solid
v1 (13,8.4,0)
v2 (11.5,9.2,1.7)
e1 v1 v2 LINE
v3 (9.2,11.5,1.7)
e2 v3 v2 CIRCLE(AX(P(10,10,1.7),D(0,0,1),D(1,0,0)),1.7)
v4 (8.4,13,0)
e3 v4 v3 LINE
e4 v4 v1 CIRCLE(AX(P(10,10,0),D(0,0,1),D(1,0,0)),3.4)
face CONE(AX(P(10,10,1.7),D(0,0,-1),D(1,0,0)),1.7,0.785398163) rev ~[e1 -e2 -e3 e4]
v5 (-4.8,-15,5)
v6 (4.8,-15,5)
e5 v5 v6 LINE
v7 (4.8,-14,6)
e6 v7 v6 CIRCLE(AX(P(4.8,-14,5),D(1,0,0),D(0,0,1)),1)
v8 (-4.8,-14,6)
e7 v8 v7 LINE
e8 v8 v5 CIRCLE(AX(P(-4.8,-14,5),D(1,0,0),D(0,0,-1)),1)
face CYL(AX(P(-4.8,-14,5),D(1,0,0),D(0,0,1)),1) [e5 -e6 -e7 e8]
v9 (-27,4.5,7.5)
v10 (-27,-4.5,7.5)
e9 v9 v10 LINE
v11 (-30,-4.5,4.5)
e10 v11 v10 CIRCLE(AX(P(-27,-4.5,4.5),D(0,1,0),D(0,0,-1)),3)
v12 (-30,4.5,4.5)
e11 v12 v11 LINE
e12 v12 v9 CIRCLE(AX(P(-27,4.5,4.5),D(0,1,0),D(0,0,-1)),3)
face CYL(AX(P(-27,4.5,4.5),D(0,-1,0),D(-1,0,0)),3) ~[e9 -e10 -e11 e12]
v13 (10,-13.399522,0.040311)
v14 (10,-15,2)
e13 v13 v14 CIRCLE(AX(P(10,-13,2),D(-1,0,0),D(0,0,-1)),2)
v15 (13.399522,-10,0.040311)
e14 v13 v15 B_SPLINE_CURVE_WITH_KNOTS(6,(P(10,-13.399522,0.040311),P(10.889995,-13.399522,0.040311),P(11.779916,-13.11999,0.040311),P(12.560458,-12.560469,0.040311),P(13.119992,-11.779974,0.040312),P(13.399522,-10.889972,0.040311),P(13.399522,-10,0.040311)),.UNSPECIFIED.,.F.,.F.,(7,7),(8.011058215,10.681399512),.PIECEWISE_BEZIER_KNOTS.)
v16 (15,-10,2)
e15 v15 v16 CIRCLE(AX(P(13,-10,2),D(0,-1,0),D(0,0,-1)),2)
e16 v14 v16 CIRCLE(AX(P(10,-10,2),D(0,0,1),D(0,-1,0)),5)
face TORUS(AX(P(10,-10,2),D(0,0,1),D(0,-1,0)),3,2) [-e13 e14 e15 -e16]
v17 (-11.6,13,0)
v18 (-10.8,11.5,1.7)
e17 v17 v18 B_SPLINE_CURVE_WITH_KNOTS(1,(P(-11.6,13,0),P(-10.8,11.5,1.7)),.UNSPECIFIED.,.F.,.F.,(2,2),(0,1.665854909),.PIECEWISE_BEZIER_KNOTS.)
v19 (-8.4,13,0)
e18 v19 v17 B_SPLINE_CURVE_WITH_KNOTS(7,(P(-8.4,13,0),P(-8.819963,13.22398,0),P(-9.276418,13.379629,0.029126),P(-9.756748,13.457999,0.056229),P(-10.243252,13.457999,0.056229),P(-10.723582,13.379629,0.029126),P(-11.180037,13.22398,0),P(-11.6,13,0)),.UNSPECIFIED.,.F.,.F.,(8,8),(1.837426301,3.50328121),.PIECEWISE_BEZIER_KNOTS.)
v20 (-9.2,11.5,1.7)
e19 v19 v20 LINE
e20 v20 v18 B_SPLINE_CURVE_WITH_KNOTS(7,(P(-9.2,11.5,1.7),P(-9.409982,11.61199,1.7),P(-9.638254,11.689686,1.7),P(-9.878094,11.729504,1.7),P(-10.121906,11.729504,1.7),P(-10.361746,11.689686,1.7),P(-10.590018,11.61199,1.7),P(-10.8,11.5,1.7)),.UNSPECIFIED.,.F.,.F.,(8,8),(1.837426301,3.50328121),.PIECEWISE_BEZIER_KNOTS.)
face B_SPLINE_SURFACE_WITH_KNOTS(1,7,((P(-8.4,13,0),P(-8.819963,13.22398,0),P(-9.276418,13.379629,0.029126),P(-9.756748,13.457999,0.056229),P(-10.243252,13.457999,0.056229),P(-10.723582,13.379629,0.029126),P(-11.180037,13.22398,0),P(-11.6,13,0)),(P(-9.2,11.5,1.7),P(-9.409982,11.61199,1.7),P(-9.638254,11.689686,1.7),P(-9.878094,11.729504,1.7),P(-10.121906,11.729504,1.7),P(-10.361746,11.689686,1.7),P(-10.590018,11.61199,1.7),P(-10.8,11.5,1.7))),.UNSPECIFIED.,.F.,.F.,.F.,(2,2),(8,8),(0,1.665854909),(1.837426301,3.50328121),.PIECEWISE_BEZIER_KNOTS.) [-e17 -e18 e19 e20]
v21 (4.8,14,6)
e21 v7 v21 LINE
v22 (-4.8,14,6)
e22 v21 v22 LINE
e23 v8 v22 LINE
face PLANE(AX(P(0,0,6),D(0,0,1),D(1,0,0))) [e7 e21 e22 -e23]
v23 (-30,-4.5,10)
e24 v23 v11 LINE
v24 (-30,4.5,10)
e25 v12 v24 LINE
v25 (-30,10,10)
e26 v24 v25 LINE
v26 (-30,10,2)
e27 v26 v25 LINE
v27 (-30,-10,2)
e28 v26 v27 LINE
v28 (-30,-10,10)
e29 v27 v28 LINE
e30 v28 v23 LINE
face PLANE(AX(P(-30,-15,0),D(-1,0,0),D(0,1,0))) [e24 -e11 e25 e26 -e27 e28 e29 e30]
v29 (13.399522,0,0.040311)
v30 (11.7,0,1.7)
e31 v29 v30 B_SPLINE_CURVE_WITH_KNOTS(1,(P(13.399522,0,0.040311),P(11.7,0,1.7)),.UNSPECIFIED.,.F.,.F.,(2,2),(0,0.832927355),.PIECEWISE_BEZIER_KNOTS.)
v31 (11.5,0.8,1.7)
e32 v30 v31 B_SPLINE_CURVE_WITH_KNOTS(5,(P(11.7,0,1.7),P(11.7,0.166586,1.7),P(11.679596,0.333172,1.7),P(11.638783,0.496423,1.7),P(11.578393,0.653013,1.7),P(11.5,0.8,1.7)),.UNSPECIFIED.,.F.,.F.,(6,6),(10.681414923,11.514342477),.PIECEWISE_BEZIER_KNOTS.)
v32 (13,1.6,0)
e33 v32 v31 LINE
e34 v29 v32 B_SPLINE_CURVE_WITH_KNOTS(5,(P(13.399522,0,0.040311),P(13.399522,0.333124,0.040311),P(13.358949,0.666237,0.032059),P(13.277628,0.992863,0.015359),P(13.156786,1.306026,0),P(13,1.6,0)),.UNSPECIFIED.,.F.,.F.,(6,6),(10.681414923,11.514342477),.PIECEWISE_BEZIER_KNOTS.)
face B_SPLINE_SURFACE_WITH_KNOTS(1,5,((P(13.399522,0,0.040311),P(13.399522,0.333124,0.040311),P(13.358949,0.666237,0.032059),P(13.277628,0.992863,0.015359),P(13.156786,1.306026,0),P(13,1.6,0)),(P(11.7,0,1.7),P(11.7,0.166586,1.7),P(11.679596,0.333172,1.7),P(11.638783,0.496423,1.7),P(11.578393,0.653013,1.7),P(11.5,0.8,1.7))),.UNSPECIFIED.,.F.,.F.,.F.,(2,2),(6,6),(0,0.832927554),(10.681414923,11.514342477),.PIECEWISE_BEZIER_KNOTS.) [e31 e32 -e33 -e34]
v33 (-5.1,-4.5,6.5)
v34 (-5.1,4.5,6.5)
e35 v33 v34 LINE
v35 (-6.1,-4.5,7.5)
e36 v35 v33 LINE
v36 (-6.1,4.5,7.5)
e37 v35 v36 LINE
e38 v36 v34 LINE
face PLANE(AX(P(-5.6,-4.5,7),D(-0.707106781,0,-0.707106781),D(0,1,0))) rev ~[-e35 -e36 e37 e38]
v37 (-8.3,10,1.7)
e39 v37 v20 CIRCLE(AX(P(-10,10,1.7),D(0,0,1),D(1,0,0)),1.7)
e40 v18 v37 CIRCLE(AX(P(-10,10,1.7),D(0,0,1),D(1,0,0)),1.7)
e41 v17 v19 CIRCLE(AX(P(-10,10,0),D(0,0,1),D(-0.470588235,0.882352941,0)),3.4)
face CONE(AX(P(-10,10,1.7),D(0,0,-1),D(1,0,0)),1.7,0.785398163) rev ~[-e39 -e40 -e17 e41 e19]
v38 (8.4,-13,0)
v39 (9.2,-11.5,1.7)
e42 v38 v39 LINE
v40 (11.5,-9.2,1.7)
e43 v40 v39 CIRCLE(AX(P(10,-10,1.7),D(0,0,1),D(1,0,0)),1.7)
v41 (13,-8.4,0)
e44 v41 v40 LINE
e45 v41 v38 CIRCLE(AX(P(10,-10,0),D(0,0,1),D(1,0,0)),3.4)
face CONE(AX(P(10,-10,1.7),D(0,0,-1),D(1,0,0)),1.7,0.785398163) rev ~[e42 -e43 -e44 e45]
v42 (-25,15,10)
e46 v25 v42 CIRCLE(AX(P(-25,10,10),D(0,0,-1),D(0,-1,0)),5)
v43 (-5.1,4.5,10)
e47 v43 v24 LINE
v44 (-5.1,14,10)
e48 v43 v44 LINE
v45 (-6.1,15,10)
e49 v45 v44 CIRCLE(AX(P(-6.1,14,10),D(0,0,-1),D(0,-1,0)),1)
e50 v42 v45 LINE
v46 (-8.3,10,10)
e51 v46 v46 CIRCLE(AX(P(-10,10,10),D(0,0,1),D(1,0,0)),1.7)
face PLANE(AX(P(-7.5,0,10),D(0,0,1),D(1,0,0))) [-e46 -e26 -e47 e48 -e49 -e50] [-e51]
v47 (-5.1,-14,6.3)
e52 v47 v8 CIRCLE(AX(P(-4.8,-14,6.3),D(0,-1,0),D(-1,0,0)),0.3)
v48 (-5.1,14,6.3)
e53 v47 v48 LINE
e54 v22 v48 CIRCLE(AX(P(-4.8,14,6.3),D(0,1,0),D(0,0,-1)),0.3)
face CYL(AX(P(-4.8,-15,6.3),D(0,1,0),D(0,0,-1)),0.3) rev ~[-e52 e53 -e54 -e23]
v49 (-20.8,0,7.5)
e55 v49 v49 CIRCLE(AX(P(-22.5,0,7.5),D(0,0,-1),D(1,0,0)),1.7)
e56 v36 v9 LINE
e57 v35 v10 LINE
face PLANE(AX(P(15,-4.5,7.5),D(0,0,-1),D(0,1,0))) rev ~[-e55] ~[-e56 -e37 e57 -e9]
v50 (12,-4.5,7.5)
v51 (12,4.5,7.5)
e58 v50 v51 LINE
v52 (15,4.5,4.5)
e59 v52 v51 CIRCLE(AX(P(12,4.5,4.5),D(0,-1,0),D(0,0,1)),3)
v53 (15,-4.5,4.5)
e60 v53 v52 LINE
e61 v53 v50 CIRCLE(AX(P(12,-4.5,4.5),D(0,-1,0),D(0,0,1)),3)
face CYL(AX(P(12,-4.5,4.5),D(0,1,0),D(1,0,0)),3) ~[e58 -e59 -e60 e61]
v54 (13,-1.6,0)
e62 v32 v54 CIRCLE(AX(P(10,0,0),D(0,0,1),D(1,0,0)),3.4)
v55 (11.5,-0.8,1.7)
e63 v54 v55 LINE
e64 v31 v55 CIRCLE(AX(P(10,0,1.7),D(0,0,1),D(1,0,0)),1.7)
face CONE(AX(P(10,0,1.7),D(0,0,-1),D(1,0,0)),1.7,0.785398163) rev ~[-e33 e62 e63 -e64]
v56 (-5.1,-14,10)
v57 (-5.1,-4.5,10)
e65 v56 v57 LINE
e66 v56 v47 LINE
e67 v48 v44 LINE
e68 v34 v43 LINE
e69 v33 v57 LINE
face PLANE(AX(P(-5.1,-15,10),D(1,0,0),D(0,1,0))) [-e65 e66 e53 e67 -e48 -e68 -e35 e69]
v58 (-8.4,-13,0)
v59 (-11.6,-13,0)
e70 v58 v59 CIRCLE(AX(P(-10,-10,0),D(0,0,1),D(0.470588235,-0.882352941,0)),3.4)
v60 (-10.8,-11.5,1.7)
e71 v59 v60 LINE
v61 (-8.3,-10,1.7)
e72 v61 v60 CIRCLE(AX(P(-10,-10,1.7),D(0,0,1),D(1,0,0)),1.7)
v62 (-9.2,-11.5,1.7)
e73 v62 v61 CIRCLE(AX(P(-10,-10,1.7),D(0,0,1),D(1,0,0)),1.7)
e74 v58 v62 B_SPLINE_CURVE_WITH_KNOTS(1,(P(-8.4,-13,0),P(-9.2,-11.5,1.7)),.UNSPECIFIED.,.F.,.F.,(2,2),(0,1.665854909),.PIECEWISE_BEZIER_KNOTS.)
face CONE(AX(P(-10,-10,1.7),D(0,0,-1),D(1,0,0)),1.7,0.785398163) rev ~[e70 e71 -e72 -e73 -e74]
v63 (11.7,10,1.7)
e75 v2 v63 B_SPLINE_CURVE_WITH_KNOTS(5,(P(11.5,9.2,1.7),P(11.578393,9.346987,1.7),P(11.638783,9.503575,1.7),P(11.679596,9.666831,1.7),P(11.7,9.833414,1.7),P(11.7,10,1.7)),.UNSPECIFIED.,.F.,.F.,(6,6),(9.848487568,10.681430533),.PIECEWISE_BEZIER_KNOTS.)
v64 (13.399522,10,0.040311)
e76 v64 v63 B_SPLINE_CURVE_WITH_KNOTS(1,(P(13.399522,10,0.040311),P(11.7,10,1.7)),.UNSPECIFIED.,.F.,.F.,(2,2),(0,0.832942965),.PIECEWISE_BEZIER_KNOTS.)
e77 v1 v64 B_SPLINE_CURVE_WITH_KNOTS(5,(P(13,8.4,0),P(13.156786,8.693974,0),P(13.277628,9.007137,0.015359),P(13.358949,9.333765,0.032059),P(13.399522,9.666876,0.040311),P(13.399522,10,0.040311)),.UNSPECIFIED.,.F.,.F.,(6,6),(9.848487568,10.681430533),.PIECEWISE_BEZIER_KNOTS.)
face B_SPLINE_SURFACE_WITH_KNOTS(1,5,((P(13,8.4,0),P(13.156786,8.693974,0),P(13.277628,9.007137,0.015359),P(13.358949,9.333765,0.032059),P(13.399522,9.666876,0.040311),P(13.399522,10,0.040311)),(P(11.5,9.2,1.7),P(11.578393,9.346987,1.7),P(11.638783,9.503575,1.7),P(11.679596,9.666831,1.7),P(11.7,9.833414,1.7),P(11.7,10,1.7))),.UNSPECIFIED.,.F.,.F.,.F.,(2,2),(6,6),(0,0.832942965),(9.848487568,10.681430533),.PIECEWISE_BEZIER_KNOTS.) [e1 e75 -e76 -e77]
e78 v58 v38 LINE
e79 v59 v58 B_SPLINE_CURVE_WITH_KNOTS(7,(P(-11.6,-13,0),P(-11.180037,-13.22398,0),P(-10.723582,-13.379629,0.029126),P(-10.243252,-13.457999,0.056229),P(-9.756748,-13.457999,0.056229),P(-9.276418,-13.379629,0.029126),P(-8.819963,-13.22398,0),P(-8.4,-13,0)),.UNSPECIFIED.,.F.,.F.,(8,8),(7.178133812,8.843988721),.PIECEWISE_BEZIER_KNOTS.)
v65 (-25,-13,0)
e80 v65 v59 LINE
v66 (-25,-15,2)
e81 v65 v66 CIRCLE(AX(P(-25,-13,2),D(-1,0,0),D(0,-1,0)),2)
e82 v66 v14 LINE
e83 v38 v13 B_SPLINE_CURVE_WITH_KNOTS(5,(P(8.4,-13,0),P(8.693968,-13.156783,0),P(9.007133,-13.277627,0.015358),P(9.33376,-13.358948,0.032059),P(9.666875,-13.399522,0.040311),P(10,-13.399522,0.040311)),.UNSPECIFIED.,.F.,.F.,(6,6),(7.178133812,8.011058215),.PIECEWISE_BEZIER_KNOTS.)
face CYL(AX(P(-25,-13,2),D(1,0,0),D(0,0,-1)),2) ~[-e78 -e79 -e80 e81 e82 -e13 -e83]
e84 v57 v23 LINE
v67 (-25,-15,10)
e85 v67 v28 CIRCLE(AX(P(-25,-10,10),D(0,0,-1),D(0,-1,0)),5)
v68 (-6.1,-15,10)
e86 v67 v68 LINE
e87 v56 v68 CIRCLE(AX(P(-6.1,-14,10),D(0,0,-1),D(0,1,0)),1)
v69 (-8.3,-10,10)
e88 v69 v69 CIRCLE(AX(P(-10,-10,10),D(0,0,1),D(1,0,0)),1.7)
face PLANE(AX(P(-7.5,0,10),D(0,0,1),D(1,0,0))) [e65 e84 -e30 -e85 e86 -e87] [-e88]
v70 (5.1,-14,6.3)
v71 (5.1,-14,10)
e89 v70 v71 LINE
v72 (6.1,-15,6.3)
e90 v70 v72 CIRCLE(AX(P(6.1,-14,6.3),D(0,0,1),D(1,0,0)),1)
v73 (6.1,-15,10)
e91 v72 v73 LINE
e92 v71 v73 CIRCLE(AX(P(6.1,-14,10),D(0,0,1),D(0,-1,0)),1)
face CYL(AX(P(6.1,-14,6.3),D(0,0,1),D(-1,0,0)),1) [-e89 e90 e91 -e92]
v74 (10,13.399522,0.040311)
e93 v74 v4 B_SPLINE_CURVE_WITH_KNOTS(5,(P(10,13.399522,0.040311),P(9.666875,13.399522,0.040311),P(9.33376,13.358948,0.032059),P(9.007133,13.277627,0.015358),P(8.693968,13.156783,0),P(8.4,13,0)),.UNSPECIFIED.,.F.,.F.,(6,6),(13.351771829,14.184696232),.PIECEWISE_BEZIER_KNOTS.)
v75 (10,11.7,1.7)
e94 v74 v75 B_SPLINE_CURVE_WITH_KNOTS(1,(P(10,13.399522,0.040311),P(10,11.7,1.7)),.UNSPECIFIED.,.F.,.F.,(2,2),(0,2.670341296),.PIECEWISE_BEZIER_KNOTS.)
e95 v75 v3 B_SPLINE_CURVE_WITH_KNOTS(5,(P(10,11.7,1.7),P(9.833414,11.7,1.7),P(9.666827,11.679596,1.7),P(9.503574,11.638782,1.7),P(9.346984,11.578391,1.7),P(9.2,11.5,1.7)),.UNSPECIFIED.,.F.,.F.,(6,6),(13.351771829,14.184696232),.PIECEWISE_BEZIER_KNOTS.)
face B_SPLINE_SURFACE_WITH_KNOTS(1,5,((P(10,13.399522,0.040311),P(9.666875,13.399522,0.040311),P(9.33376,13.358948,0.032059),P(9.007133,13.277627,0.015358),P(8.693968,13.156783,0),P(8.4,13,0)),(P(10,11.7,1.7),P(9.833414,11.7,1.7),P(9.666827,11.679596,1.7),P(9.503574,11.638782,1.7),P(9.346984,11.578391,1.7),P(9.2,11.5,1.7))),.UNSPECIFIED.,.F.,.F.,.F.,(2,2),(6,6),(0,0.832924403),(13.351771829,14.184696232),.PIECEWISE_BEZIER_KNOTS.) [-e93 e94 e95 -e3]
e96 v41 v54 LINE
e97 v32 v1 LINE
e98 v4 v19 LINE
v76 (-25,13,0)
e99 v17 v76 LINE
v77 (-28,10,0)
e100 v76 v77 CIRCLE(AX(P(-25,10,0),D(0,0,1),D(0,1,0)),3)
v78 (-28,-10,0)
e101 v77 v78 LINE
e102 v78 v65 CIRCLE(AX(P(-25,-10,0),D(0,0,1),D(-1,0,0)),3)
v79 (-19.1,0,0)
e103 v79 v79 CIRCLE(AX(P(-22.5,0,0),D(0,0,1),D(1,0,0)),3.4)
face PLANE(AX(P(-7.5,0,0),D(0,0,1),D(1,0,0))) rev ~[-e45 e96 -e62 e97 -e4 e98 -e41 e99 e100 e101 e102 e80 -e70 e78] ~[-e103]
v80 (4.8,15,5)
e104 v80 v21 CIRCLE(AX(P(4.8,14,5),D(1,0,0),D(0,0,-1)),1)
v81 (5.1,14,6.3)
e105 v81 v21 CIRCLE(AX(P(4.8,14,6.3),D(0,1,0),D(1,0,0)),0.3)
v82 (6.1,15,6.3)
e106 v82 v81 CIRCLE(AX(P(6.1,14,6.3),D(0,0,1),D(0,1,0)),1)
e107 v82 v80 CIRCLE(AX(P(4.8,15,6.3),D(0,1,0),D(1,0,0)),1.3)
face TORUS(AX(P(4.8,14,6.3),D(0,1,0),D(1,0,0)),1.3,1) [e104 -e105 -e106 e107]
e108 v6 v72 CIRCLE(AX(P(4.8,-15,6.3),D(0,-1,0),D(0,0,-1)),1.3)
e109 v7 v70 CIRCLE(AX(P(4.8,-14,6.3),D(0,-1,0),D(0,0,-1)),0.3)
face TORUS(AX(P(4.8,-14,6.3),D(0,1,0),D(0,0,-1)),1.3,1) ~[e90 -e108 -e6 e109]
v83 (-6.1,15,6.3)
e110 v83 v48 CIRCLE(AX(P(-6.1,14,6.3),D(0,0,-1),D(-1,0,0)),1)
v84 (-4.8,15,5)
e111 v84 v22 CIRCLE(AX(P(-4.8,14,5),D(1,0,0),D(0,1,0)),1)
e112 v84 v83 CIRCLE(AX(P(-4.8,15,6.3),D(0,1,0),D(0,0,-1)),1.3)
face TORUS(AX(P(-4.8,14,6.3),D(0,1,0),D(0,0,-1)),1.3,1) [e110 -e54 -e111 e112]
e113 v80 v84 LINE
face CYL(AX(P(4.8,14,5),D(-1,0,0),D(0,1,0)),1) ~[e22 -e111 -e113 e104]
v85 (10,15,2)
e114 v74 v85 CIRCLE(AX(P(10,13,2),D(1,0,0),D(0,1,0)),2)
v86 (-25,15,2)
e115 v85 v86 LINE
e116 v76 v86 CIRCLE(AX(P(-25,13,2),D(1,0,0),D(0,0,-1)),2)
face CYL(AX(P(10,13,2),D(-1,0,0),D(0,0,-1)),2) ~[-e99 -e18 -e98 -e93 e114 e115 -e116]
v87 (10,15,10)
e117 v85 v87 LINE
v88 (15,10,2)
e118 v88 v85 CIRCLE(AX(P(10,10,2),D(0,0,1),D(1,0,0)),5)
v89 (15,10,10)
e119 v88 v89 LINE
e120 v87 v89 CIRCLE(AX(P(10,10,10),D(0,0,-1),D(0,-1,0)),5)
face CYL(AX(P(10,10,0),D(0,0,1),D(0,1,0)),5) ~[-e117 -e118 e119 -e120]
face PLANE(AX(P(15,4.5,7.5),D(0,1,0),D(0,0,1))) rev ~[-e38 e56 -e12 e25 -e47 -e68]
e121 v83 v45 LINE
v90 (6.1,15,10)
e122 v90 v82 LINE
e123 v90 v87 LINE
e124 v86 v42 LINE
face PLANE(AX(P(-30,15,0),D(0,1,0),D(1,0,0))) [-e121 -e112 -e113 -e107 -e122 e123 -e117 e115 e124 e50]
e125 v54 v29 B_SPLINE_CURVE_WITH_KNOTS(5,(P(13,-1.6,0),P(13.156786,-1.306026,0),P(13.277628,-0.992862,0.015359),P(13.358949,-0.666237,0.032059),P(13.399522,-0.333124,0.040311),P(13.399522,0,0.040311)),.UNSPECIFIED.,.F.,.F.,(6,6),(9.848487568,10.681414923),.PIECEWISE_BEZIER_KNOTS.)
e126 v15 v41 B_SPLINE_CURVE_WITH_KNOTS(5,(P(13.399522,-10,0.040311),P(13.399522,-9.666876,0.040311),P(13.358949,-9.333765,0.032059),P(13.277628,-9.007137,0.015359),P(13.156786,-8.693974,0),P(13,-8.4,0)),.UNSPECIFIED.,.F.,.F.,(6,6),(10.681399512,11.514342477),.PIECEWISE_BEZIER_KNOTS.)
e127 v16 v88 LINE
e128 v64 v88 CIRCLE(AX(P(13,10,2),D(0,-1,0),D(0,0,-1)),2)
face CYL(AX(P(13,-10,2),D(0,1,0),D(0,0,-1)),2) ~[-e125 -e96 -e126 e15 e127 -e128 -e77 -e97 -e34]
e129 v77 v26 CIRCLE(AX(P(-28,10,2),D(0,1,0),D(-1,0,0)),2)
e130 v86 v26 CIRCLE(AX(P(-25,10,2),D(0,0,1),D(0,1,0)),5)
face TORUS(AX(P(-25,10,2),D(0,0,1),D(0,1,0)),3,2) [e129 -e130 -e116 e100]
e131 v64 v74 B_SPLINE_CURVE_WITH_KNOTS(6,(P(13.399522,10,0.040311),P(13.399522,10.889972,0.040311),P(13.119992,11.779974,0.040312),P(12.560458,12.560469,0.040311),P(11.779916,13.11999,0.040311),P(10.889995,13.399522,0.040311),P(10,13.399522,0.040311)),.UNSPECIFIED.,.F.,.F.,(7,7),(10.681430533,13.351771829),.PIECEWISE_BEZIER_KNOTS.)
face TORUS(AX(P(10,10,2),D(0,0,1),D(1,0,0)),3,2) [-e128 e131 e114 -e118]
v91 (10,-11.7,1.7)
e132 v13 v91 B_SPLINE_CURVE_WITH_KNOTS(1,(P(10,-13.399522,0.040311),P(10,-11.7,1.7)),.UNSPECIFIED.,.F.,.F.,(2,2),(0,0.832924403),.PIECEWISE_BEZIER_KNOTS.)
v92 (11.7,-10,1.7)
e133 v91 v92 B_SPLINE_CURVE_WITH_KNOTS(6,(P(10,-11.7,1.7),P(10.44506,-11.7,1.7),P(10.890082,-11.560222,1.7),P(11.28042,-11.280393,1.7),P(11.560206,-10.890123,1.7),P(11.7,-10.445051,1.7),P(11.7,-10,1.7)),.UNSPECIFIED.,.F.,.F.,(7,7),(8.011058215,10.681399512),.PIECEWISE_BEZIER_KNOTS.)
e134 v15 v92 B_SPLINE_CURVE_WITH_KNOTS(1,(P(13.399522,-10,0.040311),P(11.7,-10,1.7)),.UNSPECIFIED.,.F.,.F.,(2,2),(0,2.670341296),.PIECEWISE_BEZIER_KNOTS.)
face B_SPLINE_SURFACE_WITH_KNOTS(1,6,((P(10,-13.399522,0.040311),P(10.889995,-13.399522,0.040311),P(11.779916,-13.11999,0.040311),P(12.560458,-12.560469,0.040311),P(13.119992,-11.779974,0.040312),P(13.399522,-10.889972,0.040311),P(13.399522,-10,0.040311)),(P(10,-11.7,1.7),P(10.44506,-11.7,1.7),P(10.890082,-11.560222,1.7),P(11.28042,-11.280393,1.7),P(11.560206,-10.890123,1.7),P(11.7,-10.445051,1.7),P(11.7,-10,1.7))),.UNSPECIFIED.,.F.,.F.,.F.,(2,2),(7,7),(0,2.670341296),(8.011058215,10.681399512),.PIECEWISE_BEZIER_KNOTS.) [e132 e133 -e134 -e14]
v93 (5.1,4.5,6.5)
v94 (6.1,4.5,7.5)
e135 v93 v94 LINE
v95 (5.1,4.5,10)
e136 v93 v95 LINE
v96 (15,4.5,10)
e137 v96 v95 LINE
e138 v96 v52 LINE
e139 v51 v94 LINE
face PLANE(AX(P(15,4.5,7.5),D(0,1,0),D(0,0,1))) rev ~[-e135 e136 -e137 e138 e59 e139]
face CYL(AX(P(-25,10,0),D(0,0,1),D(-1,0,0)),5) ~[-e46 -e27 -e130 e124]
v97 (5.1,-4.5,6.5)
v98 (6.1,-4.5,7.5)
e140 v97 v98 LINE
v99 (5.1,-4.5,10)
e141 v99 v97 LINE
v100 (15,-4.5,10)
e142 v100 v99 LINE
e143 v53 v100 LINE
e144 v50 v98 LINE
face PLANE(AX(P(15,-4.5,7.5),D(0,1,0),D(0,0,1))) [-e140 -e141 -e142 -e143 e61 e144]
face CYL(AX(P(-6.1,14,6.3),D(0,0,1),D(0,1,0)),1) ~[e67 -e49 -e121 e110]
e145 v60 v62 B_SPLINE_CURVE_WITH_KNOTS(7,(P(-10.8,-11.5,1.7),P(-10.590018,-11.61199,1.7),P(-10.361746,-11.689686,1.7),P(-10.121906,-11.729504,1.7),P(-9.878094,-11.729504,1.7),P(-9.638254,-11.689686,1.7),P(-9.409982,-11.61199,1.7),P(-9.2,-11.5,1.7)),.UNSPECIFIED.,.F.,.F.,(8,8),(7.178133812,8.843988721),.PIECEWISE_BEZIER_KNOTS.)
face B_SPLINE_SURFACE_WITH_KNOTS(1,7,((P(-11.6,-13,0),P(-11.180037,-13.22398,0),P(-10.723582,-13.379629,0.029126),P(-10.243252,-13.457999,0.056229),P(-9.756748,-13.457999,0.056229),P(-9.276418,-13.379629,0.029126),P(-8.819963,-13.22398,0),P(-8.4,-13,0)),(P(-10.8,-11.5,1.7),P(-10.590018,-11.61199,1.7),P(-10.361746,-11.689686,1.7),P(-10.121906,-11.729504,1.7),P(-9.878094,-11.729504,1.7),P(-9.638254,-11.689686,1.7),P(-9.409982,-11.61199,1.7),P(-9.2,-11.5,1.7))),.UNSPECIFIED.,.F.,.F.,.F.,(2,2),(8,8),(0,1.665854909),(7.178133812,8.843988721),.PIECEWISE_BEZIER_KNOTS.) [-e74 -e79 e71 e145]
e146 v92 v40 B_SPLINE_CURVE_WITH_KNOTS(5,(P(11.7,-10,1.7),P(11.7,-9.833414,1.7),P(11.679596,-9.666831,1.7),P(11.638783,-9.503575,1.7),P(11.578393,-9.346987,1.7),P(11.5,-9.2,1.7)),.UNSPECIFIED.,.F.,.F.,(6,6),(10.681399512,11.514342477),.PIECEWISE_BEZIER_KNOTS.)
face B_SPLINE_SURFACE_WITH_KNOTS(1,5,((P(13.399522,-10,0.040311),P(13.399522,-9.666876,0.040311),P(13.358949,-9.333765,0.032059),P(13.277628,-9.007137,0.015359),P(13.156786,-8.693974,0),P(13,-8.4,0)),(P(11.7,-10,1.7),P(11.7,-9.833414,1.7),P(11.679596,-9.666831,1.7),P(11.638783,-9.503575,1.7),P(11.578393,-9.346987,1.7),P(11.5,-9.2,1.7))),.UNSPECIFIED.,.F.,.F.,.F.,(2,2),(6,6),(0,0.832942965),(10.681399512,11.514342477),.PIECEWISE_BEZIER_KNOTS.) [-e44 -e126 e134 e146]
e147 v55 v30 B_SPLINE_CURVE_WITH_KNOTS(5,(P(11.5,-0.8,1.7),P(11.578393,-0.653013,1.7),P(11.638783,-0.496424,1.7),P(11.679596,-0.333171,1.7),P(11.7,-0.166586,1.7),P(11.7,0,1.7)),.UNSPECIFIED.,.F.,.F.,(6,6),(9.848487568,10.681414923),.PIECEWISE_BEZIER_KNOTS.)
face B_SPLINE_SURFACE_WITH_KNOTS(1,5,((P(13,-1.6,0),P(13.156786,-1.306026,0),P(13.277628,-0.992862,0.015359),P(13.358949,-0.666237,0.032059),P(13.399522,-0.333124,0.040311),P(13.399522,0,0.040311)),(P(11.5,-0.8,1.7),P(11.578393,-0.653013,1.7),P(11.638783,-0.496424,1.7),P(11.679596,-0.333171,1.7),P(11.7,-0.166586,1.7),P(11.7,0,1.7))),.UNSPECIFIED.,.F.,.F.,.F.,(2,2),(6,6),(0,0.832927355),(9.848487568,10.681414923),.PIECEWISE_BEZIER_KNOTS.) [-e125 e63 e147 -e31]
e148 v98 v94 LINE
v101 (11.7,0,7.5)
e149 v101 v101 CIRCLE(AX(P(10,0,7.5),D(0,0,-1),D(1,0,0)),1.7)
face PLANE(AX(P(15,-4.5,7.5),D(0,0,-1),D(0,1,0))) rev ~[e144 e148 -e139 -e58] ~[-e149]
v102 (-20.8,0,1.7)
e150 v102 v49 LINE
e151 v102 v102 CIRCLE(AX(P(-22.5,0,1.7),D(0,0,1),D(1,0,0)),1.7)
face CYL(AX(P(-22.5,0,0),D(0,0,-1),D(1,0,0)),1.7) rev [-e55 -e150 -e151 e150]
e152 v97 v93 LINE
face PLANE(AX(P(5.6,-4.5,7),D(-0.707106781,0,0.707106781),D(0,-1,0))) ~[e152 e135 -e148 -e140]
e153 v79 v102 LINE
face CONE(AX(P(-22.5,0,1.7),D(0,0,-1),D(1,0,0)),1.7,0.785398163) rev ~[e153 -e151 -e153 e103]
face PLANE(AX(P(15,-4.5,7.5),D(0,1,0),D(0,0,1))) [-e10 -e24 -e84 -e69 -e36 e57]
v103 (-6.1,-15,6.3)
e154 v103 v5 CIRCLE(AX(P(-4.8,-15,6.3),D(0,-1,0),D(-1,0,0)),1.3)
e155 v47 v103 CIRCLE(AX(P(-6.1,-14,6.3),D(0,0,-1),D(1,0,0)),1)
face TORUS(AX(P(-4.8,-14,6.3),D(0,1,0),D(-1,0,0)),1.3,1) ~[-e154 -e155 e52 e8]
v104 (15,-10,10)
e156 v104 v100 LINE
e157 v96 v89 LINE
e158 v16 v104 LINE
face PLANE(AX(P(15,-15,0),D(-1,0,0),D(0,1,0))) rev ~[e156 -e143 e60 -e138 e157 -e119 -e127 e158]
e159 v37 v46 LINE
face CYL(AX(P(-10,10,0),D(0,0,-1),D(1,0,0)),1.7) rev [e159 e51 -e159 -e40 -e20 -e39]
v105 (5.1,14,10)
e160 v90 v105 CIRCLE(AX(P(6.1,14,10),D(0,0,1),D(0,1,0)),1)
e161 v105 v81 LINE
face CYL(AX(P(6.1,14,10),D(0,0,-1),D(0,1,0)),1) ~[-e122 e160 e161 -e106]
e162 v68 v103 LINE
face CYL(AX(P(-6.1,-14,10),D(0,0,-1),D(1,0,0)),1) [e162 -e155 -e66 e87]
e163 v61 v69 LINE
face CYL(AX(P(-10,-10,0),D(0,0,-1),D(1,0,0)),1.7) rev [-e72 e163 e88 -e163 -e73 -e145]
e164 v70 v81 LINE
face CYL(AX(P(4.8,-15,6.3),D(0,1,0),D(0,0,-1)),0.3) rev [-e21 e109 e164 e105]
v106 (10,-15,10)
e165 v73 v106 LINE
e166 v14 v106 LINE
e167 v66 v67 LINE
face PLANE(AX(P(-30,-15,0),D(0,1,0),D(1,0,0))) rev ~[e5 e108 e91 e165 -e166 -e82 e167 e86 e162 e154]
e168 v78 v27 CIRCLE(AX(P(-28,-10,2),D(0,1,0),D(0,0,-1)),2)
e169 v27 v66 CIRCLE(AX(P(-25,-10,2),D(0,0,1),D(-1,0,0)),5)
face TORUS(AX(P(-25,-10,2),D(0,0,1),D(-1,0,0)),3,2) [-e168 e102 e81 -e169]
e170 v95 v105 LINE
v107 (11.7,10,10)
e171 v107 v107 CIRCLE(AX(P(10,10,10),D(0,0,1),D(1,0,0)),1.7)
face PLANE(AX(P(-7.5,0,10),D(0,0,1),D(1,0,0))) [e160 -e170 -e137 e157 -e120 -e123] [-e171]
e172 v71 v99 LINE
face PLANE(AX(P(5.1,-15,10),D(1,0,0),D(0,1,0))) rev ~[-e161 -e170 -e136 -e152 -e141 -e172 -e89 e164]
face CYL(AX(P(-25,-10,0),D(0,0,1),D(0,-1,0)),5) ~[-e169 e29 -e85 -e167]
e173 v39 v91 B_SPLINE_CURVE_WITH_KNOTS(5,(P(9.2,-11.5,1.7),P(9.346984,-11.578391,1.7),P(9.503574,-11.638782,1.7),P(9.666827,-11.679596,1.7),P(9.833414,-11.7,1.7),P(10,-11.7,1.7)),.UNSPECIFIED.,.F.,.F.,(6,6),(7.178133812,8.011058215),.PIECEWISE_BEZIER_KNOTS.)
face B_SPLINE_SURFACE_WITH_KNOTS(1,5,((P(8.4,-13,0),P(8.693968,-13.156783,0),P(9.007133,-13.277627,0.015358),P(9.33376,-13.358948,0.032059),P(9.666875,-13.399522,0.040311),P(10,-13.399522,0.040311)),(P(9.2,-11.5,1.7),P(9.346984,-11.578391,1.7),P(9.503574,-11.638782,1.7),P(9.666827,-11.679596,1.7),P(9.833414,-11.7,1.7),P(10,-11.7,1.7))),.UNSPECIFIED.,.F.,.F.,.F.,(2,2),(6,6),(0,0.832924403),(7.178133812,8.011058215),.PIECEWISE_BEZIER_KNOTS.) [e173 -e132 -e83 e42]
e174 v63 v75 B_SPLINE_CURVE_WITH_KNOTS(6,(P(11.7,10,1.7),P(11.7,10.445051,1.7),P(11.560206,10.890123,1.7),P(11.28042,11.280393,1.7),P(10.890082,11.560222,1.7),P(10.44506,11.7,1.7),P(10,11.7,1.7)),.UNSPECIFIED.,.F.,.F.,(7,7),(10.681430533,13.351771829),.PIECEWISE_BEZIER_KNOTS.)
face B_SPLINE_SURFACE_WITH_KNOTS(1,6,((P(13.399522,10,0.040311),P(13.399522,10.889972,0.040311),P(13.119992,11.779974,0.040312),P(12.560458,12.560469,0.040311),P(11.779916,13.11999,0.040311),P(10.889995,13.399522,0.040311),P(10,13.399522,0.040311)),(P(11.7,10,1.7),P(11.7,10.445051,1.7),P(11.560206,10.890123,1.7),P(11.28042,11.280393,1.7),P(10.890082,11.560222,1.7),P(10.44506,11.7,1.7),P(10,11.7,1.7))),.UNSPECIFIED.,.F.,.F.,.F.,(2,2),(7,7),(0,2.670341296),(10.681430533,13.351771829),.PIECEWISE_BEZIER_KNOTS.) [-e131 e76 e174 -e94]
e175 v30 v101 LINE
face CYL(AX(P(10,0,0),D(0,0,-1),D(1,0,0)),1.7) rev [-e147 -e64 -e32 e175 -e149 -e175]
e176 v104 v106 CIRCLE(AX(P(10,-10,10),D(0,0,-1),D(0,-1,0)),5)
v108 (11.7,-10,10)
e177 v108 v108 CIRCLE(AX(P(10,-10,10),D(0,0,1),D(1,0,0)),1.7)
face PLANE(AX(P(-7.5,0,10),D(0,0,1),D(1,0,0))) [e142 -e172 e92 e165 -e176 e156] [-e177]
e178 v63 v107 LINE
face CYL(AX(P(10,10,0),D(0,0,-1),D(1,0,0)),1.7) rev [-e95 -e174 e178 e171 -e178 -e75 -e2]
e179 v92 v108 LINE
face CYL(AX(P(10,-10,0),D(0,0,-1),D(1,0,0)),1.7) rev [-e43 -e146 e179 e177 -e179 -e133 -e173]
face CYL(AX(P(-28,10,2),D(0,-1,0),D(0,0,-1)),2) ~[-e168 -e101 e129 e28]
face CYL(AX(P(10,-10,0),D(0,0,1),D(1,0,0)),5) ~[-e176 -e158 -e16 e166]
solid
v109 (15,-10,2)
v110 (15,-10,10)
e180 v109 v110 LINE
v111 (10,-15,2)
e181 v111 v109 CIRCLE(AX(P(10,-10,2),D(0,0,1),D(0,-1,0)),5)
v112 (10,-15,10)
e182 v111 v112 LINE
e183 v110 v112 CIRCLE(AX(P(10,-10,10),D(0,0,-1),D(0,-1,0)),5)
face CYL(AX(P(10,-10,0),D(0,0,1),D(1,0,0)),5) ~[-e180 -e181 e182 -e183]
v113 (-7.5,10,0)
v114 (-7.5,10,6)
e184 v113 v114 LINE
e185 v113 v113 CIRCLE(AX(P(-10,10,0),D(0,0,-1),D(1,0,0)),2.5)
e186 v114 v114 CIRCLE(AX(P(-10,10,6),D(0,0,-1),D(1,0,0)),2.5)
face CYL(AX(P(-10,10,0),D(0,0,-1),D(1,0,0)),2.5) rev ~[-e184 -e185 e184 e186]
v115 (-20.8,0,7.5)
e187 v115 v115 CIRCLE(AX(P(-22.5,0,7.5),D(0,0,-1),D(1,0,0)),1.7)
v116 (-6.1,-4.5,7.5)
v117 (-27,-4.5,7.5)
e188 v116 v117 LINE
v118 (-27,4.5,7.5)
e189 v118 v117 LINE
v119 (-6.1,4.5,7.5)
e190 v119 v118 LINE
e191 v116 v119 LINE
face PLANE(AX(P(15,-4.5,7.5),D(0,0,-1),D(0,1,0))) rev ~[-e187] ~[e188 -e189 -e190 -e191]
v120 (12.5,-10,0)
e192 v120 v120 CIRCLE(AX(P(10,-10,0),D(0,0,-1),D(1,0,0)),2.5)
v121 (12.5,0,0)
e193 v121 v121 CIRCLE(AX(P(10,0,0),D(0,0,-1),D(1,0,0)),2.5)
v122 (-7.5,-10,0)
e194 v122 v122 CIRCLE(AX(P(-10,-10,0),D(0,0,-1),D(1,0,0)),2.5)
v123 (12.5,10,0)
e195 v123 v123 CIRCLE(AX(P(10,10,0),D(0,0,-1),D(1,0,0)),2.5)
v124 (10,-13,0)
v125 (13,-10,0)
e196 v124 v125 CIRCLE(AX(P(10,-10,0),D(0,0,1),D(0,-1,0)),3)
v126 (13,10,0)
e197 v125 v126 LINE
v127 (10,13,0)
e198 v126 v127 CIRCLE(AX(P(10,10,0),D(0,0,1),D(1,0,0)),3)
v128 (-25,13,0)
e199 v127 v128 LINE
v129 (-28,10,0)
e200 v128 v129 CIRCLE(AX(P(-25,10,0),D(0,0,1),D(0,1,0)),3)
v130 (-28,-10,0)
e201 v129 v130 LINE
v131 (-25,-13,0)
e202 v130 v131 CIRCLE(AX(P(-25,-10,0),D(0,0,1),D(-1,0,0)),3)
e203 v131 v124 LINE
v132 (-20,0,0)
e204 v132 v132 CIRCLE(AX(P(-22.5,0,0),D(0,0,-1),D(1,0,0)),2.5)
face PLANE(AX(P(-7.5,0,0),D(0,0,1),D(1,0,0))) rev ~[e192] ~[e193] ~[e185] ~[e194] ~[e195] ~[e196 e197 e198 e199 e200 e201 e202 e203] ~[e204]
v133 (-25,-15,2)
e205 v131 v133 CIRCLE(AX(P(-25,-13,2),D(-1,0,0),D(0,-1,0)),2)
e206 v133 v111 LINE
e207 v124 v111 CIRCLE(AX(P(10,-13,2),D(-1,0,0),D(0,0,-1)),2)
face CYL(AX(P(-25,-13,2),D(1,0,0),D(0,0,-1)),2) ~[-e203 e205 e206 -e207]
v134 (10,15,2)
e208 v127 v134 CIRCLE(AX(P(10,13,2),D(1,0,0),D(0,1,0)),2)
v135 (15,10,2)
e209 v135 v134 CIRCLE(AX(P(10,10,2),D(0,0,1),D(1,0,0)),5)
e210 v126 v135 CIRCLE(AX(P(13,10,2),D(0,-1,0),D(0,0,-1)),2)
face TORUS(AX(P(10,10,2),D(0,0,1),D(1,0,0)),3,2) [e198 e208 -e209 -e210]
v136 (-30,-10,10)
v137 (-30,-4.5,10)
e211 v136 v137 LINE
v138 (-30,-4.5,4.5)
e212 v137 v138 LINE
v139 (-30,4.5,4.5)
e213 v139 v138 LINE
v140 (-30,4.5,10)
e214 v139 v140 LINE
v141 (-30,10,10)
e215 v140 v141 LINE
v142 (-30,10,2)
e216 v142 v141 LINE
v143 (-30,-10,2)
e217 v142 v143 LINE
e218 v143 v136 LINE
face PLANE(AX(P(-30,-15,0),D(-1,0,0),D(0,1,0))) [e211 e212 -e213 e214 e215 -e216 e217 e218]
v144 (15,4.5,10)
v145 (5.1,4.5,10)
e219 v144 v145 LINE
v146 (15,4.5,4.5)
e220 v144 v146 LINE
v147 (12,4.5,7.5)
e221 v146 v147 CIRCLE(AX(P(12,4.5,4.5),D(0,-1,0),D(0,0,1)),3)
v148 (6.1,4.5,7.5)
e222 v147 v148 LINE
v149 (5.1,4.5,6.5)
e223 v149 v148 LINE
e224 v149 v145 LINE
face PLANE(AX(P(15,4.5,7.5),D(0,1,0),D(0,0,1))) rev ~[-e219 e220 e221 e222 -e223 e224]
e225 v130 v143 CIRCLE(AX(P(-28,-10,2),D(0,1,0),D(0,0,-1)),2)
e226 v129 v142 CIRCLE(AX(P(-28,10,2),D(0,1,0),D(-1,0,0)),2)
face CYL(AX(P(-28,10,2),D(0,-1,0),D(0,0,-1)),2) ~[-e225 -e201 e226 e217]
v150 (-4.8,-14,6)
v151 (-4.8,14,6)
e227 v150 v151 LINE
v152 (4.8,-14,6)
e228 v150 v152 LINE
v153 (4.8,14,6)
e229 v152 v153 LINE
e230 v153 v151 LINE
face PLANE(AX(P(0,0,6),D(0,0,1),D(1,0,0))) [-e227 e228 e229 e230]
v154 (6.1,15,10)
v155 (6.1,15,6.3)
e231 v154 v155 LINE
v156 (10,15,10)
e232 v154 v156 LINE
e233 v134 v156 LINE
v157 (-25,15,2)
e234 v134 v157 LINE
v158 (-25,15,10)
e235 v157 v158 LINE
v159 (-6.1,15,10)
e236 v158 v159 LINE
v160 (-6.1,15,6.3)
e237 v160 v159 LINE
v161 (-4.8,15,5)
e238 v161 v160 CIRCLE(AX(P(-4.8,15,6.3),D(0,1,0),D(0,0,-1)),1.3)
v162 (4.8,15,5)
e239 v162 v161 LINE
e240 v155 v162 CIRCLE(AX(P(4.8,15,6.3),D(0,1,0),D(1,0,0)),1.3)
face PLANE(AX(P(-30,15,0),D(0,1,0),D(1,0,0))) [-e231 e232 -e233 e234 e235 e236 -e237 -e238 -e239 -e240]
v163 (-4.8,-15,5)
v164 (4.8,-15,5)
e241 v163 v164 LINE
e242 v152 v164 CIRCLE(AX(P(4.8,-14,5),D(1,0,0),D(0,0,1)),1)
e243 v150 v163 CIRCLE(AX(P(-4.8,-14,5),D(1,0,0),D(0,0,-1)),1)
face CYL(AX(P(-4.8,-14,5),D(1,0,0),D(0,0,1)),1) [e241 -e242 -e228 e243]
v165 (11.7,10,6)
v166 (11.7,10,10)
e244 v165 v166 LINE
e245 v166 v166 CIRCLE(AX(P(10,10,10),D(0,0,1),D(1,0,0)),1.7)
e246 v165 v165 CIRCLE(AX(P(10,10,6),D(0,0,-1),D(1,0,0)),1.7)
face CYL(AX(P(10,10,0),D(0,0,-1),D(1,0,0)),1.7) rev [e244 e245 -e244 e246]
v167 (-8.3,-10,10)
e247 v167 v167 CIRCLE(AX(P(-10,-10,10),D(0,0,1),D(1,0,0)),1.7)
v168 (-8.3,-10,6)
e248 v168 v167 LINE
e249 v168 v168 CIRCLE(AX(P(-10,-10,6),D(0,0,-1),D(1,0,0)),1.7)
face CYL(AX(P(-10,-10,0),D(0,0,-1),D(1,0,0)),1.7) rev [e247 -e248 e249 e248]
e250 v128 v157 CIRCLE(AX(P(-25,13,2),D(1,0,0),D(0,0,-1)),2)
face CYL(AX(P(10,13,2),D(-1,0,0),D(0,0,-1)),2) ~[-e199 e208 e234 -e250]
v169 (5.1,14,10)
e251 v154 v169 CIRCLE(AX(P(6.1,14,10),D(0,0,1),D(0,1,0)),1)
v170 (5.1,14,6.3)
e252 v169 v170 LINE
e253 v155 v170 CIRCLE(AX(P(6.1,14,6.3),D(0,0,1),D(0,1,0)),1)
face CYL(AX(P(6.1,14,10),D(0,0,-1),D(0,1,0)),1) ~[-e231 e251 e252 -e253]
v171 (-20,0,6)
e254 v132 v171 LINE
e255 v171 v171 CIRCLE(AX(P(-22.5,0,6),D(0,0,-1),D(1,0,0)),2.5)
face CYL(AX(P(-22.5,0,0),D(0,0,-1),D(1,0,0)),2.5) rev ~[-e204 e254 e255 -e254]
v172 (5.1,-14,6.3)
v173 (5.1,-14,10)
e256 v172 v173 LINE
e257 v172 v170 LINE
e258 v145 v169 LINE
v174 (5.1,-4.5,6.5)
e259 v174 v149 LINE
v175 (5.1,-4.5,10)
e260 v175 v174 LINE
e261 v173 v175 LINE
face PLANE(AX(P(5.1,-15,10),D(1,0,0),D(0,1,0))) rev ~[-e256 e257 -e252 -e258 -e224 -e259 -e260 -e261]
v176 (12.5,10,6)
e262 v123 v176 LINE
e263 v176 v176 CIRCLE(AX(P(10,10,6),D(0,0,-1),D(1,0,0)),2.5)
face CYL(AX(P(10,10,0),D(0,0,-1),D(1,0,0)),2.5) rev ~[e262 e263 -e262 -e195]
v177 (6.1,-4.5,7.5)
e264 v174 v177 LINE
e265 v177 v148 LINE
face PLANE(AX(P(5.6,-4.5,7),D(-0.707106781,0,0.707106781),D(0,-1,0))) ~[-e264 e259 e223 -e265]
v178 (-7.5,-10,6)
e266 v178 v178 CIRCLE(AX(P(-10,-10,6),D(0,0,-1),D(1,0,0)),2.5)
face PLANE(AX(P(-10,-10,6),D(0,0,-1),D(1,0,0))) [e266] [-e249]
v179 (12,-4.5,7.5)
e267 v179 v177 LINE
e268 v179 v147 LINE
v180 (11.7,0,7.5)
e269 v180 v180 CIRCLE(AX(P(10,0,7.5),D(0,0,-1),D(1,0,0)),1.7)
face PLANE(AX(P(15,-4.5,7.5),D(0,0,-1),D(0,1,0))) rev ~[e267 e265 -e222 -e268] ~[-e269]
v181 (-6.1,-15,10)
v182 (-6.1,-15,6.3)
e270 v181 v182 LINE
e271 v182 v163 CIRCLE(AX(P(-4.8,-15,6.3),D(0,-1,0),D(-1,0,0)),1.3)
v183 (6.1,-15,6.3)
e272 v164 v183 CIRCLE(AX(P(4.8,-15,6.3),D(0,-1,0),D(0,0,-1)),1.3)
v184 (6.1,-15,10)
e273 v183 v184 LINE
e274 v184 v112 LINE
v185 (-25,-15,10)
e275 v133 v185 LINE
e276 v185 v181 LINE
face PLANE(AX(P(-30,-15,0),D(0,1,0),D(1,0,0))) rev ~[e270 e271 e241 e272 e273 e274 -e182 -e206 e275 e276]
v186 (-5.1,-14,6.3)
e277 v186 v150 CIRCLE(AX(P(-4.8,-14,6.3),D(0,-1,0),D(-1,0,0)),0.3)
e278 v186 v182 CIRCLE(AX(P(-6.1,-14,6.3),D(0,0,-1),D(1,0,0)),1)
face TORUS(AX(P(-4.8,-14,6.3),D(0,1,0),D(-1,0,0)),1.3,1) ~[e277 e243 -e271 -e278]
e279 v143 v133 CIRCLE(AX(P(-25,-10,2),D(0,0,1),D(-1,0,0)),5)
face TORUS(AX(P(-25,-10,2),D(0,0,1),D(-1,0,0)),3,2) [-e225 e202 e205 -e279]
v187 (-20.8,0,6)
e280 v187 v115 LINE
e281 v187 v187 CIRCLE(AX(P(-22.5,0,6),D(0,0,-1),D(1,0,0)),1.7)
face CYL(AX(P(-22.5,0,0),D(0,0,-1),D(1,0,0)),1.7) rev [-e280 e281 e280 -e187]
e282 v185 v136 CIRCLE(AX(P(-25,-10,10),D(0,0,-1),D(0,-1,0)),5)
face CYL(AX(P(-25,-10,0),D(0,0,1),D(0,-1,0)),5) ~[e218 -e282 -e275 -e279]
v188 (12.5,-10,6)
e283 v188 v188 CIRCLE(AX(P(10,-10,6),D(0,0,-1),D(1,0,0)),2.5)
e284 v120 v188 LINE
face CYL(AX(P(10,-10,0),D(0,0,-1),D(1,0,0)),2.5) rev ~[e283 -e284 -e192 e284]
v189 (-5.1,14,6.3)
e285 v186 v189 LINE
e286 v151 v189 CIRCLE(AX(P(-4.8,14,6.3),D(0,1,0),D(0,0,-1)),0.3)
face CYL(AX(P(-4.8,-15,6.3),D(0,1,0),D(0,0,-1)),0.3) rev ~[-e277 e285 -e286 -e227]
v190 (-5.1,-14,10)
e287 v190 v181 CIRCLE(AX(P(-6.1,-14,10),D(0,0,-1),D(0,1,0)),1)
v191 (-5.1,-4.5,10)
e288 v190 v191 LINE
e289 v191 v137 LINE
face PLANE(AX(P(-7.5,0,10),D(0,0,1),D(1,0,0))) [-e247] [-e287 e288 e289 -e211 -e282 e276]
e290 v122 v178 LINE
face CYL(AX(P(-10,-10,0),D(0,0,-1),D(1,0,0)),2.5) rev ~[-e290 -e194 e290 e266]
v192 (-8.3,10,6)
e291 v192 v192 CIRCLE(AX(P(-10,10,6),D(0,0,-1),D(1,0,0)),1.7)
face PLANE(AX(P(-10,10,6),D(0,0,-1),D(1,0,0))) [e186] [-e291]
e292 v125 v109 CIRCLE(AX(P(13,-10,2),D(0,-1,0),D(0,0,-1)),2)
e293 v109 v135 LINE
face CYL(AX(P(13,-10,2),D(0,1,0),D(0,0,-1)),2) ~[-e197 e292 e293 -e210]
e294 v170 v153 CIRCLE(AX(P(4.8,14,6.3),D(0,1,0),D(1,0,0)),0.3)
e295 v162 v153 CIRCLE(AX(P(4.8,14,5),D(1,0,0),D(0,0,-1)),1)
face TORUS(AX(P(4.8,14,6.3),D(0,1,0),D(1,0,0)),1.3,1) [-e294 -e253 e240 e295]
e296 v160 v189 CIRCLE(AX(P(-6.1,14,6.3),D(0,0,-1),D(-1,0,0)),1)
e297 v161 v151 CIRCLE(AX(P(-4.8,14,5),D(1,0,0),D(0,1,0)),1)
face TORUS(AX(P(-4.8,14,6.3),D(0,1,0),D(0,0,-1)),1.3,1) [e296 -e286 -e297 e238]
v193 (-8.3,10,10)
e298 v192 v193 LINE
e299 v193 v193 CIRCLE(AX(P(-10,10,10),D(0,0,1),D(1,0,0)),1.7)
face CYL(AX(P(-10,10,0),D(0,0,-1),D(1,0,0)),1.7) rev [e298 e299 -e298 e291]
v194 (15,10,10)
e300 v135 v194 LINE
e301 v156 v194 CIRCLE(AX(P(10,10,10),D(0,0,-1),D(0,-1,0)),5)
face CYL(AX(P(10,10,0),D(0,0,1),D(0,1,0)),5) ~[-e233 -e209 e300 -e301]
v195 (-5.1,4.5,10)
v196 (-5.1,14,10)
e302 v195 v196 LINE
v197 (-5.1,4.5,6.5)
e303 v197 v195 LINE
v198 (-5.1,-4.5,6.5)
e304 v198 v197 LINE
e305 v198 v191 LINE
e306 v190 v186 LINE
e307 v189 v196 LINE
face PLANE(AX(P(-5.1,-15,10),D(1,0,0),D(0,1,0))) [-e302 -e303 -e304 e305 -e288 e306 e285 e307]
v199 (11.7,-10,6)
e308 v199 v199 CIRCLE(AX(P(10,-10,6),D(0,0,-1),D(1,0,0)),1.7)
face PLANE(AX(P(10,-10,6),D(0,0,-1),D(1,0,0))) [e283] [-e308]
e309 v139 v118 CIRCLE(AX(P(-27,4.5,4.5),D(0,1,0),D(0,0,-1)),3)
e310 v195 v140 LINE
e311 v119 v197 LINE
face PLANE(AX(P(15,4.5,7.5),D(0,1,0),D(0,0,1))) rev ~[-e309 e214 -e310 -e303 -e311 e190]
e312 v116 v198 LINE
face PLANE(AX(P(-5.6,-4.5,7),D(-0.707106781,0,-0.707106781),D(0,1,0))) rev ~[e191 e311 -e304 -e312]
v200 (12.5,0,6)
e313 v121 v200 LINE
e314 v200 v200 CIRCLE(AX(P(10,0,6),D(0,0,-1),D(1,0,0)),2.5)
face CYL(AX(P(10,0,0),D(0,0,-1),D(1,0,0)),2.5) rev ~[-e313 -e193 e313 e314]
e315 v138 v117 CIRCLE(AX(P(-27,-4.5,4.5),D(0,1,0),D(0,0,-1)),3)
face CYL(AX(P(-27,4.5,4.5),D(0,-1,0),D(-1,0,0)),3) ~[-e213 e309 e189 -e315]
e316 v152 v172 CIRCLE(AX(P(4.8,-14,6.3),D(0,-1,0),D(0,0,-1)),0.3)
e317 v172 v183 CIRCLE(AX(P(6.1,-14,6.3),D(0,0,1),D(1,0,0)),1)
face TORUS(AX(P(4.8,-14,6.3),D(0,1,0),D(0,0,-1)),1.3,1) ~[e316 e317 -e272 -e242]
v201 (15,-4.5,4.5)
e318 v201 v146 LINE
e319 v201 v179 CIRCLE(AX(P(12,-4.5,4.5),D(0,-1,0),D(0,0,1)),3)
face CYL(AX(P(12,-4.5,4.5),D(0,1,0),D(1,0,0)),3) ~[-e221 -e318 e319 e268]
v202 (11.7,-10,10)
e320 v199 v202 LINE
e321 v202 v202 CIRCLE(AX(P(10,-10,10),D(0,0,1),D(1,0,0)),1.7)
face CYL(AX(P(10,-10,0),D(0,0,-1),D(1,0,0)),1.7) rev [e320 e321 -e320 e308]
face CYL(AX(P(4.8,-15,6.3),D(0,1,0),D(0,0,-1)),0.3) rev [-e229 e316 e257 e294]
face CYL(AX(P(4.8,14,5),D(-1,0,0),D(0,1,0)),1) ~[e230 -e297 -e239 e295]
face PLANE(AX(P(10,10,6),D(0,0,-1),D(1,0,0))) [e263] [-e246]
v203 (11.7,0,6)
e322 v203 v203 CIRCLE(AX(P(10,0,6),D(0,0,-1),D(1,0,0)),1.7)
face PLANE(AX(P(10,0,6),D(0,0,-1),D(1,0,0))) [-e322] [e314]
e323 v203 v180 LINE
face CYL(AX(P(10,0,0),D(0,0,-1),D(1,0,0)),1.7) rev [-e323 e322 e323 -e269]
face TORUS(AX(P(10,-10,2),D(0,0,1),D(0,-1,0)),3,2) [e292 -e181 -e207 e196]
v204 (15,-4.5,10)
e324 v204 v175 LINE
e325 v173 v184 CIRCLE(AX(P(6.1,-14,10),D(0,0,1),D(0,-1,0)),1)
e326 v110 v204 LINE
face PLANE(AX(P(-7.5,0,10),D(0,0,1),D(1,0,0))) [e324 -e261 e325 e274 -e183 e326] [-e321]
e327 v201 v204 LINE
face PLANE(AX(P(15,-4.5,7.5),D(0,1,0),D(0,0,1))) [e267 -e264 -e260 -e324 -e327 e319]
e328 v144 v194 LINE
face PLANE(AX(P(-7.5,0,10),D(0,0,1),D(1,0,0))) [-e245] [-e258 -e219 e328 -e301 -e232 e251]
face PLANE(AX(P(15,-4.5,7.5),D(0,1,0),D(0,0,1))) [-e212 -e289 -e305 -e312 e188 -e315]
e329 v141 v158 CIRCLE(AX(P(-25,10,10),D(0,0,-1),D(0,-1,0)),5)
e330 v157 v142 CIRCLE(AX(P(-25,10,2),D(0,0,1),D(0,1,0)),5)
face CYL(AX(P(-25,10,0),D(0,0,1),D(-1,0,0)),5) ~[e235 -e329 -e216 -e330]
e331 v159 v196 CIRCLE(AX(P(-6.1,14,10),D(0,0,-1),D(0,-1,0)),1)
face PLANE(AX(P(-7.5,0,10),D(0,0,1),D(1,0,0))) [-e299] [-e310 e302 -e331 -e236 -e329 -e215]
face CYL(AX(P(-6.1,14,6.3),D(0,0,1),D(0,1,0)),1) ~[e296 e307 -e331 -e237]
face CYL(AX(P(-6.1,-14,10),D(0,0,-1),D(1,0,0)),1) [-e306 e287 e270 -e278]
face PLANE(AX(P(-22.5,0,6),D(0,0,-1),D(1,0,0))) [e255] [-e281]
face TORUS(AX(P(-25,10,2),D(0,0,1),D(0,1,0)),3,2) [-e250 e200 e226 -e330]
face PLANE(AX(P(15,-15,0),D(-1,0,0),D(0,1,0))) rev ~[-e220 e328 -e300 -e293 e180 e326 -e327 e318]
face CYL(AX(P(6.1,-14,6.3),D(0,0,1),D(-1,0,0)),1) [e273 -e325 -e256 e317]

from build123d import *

# Parameters (mm, degrees)
SKETCH_W        = 45
SKETCH_H        = 30
SKETCH_R        = 1.7
PAD_DEPTH       = 10
SKETCH001_W     = 10.2
SKETCH001_H     = 30
POCKET_DEPTH    = 4
SKETCH003_W     = 9
SKETCH003_H     = 2.5
POCKET002_DEPTH = 45.001
FILLET_R        = 3
FILLET001_R     = 3
FILLET002_R     = 0.3
FILLET003_R     = 0.3
CHAMFER_SIZE    = 1
CHAMFER001_SIZE = 1
FILLET004_R     = 1
FILLET005_R     = 1
FILLET006_R     = 5
FILLET007_R     = 5
FILLET008_R     = 5
FILLET009_R     = 5
FILLET010_R     = 2
SKETCH002_R     = 2.5
POCKET003_DEPTH = 6
CHAMFER002_SIZE = 1.7
CHAMFER003_SIZE = 1.7
CHAMFER004_SIZE = 1.7
CHAMFER005_SIZE = 1.7
CHAMFER006_SIZE = 1.7
CHAMFER007_SIZE = 1.7


with BuildPart() as fillet010:
    # Sketch → Pad (new body)
    with BuildSketch(Plane.XY):
        with Locations((-7.5, 0)):
            Rectangle(SKETCH_W, SKETCH_H)
        with Locations((-10, 10)):
            Circle(SKETCH_R, mode=Mode.SUBTRACT)
        with Locations((-10, -10)):
            Circle(SKETCH_R, mode=Mode.SUBTRACT)
        with Locations((10, 10)):
            Circle(SKETCH_R, mode=Mode.SUBTRACT)
        with Locations((10, -10)):
            Circle(SKETCH_R, mode=Mode.SUBTRACT)
        with Locations((10, 0)):
            Circle(SKETCH_R, mode=Mode.SUBTRACT)
        with Locations((-22.5, 0)):
            Circle(SKETCH_R, mode=Mode.SUBTRACT)
    extrude(amount=PAD_DEPTH)

    # Sketch001 → Pocket (cut)
    with BuildSketch(Plane.XY.offset(10)):
        Rectangle(SKETCH001_W, SKETCH001_H)
    extrude(amount=-POCKET_DEPTH, mode=Mode.SUBTRACT)

    # Sketch003 → Pocket002 (cut, through all)
    with BuildSketch(Plane.YZ.offset(15)):
        with Locations((0, 8.75)):
            Rectangle(SKETCH003_W, SKETCH003_H)
    extrude(amount=-POCKET002_DEPTH, mode=Mode.SUBTRACT)

    # Fillet
    fillet_edges = [fillet010.edges().sort_by_distance(p)[0] for p in [
        (15, 0, 7.5),
    ]]
    fillet(fillet_edges, radius=FILLET_R)

    # Fillet001
    fillet001_edges = [fillet010.edges().sort_by_distance(p)[0] for p in [
        (-30, 0, 7.5),
    ]]
    fillet(fillet001_edges, radius=FILLET001_R)

    # Fillet002
    fillet002_edges = [fillet010.edges().sort_by_distance(p)[0] for p in [
        (5.1, 0, 6),
    ]]
    fillet(fillet002_edges, radius=FILLET002_R)

    # Fillet003
    fillet003_edges = [fillet010.edges().sort_by_distance(p)[0] for p in [
        (-5.1, 0, 6),
    ]]
    fillet(fillet003_edges, radius=FILLET003_R)

    # Chamfer
    chamfer_edges = [fillet010.edges().sort_by_distance(p)[0] for p in [
        (5.1, 0, 7.5),
    ]]
    chamfer(chamfer_edges, length=CHAMFER_SIZE)

    # Chamfer001
    chamfer001_edges = [fillet010.edges().sort_by_distance(p)[0] for p in [
        (-5.1, 0, 7.5),
    ]]
    chamfer(chamfer001_edges, length=CHAMFER001_SIZE)

    # Fillet004
    fillet004_edges = [fillet010.edges().sort_by_distance(p)[0] for p in [
        (0, -15, 6),
    ]]
    fillet(fillet004_edges, radius=FILLET004_R)

    # Fillet005
    fillet005_edges = [fillet010.edges().sort_by_distance(p)[0] for p in [
        (5.1, 15, 8.15),
    ]]
    fillet(fillet005_edges, radius=FILLET005_R)

    # Fillet006
    fillet006_edges = [fillet010.edges().sort_by_distance(p)[0] for p in [
        (15, 15, 5),
    ]]
    fillet(fillet006_edges, radius=FILLET006_R)

    # Fillet007
    fillet007_edges = [fillet010.edges().sort_by_distance(p)[0] for p in [
        (15, -15, 5),
    ]]
    fillet(fillet007_edges, radius=FILLET007_R)

    # Fillet008
    fillet008_edges = [fillet010.edges().sort_by_distance(p)[0] for p in [
        (-30, -15, 5),
    ]]
    fillet(fillet008_edges, radius=FILLET008_R)

    # Fillet009
    fillet009_edges = [fillet010.edges().sort_by_distance(p)[0] for p in [
        (-30, 15, 5),
    ]]
    fillet(fillet009_edges, radius=FILLET009_R)

    # Fillet010
    fillet010_edges = [fillet010.edges().sort_by_distance(p)[0] for p in [
        (15, 0, 0),
    ]]
    fillet(fillet010_edges, radius=FILLET010_R)


with BuildPart() as a_brassinsert:
    # Pocket003 base: copy of Fillet010
    add(fillet010.part)

    # Sketch002 → Pocket003 (cut)
    with BuildSketch(Plane(origin=(0, 0, 0), x_dir=(1, 0, 0), z_dir=(0, 0, -1))):
        with Locations((-10, 10)):
            Circle(SKETCH002_R)
        with Locations((10, 10)):
            Circle(SKETCH002_R)
        with Locations((10, -10)):
            Circle(SKETCH002_R)
        with Locations((-10, -10)):
            Circle(SKETCH002_R)
        with Locations((10, 0)):
            Circle(SKETCH002_R)
        with Locations((-22.5, 0)):
            Circle(SKETCH002_R)
    extrude(amount=-POCKET003_DEPTH, mode=Mode.SUBTRACT)


with BuildPart() as b_countersunk:
    # Chamfer002 base: copy of Fillet010
    add(fillet010.part)

    # Chamfer002
    chamfer002_edges = [b_countersunk.edges().sort_by_distance(p)[0] for p in [
        (8.3, -10, 0),
    ]]
    chamfer(chamfer002_edges, length=CHAMFER002_SIZE)

    # Chamfer003
    chamfer003_edges = [b_countersunk.edges().sort_by_distance(p)[0] for p in [
        (8.3, 0, 0),
    ]]
    chamfer(chamfer003_edges, length=CHAMFER003_SIZE)

    # Chamfer004
    chamfer004_edges = [b_countersunk.edges().sort_by_distance(p)[0] for p in [
        (8.3, 10, 0),
    ]]
    chamfer(chamfer004_edges, length=CHAMFER004_SIZE)

    # Chamfer005
    chamfer005_edges = [b_countersunk.edges().sort_by_distance(p)[0] for p in [
        (-11.7, -10, 0),
    ]]
    chamfer(chamfer005_edges, length=CHAMFER005_SIZE)

    # Chamfer006
    chamfer006_edges = [b_countersunk.edges().sort_by_distance(p)[0] for p in [
        (-11.7, 10, 0),
    ]]
    chamfer(chamfer006_edges, length=CHAMFER006_SIZE)

    # Chamfer007
    chamfer007_edges = [b_countersunk.edges().sort_by_distance(p)[0] for p in [
        (-24.2, 0, 0),
    ]]
    chamfer(chamfer007_edges, length=CHAMFER007_SIZE)


solid = Compound([a_brassinsert.part, b_countersunk.part])
